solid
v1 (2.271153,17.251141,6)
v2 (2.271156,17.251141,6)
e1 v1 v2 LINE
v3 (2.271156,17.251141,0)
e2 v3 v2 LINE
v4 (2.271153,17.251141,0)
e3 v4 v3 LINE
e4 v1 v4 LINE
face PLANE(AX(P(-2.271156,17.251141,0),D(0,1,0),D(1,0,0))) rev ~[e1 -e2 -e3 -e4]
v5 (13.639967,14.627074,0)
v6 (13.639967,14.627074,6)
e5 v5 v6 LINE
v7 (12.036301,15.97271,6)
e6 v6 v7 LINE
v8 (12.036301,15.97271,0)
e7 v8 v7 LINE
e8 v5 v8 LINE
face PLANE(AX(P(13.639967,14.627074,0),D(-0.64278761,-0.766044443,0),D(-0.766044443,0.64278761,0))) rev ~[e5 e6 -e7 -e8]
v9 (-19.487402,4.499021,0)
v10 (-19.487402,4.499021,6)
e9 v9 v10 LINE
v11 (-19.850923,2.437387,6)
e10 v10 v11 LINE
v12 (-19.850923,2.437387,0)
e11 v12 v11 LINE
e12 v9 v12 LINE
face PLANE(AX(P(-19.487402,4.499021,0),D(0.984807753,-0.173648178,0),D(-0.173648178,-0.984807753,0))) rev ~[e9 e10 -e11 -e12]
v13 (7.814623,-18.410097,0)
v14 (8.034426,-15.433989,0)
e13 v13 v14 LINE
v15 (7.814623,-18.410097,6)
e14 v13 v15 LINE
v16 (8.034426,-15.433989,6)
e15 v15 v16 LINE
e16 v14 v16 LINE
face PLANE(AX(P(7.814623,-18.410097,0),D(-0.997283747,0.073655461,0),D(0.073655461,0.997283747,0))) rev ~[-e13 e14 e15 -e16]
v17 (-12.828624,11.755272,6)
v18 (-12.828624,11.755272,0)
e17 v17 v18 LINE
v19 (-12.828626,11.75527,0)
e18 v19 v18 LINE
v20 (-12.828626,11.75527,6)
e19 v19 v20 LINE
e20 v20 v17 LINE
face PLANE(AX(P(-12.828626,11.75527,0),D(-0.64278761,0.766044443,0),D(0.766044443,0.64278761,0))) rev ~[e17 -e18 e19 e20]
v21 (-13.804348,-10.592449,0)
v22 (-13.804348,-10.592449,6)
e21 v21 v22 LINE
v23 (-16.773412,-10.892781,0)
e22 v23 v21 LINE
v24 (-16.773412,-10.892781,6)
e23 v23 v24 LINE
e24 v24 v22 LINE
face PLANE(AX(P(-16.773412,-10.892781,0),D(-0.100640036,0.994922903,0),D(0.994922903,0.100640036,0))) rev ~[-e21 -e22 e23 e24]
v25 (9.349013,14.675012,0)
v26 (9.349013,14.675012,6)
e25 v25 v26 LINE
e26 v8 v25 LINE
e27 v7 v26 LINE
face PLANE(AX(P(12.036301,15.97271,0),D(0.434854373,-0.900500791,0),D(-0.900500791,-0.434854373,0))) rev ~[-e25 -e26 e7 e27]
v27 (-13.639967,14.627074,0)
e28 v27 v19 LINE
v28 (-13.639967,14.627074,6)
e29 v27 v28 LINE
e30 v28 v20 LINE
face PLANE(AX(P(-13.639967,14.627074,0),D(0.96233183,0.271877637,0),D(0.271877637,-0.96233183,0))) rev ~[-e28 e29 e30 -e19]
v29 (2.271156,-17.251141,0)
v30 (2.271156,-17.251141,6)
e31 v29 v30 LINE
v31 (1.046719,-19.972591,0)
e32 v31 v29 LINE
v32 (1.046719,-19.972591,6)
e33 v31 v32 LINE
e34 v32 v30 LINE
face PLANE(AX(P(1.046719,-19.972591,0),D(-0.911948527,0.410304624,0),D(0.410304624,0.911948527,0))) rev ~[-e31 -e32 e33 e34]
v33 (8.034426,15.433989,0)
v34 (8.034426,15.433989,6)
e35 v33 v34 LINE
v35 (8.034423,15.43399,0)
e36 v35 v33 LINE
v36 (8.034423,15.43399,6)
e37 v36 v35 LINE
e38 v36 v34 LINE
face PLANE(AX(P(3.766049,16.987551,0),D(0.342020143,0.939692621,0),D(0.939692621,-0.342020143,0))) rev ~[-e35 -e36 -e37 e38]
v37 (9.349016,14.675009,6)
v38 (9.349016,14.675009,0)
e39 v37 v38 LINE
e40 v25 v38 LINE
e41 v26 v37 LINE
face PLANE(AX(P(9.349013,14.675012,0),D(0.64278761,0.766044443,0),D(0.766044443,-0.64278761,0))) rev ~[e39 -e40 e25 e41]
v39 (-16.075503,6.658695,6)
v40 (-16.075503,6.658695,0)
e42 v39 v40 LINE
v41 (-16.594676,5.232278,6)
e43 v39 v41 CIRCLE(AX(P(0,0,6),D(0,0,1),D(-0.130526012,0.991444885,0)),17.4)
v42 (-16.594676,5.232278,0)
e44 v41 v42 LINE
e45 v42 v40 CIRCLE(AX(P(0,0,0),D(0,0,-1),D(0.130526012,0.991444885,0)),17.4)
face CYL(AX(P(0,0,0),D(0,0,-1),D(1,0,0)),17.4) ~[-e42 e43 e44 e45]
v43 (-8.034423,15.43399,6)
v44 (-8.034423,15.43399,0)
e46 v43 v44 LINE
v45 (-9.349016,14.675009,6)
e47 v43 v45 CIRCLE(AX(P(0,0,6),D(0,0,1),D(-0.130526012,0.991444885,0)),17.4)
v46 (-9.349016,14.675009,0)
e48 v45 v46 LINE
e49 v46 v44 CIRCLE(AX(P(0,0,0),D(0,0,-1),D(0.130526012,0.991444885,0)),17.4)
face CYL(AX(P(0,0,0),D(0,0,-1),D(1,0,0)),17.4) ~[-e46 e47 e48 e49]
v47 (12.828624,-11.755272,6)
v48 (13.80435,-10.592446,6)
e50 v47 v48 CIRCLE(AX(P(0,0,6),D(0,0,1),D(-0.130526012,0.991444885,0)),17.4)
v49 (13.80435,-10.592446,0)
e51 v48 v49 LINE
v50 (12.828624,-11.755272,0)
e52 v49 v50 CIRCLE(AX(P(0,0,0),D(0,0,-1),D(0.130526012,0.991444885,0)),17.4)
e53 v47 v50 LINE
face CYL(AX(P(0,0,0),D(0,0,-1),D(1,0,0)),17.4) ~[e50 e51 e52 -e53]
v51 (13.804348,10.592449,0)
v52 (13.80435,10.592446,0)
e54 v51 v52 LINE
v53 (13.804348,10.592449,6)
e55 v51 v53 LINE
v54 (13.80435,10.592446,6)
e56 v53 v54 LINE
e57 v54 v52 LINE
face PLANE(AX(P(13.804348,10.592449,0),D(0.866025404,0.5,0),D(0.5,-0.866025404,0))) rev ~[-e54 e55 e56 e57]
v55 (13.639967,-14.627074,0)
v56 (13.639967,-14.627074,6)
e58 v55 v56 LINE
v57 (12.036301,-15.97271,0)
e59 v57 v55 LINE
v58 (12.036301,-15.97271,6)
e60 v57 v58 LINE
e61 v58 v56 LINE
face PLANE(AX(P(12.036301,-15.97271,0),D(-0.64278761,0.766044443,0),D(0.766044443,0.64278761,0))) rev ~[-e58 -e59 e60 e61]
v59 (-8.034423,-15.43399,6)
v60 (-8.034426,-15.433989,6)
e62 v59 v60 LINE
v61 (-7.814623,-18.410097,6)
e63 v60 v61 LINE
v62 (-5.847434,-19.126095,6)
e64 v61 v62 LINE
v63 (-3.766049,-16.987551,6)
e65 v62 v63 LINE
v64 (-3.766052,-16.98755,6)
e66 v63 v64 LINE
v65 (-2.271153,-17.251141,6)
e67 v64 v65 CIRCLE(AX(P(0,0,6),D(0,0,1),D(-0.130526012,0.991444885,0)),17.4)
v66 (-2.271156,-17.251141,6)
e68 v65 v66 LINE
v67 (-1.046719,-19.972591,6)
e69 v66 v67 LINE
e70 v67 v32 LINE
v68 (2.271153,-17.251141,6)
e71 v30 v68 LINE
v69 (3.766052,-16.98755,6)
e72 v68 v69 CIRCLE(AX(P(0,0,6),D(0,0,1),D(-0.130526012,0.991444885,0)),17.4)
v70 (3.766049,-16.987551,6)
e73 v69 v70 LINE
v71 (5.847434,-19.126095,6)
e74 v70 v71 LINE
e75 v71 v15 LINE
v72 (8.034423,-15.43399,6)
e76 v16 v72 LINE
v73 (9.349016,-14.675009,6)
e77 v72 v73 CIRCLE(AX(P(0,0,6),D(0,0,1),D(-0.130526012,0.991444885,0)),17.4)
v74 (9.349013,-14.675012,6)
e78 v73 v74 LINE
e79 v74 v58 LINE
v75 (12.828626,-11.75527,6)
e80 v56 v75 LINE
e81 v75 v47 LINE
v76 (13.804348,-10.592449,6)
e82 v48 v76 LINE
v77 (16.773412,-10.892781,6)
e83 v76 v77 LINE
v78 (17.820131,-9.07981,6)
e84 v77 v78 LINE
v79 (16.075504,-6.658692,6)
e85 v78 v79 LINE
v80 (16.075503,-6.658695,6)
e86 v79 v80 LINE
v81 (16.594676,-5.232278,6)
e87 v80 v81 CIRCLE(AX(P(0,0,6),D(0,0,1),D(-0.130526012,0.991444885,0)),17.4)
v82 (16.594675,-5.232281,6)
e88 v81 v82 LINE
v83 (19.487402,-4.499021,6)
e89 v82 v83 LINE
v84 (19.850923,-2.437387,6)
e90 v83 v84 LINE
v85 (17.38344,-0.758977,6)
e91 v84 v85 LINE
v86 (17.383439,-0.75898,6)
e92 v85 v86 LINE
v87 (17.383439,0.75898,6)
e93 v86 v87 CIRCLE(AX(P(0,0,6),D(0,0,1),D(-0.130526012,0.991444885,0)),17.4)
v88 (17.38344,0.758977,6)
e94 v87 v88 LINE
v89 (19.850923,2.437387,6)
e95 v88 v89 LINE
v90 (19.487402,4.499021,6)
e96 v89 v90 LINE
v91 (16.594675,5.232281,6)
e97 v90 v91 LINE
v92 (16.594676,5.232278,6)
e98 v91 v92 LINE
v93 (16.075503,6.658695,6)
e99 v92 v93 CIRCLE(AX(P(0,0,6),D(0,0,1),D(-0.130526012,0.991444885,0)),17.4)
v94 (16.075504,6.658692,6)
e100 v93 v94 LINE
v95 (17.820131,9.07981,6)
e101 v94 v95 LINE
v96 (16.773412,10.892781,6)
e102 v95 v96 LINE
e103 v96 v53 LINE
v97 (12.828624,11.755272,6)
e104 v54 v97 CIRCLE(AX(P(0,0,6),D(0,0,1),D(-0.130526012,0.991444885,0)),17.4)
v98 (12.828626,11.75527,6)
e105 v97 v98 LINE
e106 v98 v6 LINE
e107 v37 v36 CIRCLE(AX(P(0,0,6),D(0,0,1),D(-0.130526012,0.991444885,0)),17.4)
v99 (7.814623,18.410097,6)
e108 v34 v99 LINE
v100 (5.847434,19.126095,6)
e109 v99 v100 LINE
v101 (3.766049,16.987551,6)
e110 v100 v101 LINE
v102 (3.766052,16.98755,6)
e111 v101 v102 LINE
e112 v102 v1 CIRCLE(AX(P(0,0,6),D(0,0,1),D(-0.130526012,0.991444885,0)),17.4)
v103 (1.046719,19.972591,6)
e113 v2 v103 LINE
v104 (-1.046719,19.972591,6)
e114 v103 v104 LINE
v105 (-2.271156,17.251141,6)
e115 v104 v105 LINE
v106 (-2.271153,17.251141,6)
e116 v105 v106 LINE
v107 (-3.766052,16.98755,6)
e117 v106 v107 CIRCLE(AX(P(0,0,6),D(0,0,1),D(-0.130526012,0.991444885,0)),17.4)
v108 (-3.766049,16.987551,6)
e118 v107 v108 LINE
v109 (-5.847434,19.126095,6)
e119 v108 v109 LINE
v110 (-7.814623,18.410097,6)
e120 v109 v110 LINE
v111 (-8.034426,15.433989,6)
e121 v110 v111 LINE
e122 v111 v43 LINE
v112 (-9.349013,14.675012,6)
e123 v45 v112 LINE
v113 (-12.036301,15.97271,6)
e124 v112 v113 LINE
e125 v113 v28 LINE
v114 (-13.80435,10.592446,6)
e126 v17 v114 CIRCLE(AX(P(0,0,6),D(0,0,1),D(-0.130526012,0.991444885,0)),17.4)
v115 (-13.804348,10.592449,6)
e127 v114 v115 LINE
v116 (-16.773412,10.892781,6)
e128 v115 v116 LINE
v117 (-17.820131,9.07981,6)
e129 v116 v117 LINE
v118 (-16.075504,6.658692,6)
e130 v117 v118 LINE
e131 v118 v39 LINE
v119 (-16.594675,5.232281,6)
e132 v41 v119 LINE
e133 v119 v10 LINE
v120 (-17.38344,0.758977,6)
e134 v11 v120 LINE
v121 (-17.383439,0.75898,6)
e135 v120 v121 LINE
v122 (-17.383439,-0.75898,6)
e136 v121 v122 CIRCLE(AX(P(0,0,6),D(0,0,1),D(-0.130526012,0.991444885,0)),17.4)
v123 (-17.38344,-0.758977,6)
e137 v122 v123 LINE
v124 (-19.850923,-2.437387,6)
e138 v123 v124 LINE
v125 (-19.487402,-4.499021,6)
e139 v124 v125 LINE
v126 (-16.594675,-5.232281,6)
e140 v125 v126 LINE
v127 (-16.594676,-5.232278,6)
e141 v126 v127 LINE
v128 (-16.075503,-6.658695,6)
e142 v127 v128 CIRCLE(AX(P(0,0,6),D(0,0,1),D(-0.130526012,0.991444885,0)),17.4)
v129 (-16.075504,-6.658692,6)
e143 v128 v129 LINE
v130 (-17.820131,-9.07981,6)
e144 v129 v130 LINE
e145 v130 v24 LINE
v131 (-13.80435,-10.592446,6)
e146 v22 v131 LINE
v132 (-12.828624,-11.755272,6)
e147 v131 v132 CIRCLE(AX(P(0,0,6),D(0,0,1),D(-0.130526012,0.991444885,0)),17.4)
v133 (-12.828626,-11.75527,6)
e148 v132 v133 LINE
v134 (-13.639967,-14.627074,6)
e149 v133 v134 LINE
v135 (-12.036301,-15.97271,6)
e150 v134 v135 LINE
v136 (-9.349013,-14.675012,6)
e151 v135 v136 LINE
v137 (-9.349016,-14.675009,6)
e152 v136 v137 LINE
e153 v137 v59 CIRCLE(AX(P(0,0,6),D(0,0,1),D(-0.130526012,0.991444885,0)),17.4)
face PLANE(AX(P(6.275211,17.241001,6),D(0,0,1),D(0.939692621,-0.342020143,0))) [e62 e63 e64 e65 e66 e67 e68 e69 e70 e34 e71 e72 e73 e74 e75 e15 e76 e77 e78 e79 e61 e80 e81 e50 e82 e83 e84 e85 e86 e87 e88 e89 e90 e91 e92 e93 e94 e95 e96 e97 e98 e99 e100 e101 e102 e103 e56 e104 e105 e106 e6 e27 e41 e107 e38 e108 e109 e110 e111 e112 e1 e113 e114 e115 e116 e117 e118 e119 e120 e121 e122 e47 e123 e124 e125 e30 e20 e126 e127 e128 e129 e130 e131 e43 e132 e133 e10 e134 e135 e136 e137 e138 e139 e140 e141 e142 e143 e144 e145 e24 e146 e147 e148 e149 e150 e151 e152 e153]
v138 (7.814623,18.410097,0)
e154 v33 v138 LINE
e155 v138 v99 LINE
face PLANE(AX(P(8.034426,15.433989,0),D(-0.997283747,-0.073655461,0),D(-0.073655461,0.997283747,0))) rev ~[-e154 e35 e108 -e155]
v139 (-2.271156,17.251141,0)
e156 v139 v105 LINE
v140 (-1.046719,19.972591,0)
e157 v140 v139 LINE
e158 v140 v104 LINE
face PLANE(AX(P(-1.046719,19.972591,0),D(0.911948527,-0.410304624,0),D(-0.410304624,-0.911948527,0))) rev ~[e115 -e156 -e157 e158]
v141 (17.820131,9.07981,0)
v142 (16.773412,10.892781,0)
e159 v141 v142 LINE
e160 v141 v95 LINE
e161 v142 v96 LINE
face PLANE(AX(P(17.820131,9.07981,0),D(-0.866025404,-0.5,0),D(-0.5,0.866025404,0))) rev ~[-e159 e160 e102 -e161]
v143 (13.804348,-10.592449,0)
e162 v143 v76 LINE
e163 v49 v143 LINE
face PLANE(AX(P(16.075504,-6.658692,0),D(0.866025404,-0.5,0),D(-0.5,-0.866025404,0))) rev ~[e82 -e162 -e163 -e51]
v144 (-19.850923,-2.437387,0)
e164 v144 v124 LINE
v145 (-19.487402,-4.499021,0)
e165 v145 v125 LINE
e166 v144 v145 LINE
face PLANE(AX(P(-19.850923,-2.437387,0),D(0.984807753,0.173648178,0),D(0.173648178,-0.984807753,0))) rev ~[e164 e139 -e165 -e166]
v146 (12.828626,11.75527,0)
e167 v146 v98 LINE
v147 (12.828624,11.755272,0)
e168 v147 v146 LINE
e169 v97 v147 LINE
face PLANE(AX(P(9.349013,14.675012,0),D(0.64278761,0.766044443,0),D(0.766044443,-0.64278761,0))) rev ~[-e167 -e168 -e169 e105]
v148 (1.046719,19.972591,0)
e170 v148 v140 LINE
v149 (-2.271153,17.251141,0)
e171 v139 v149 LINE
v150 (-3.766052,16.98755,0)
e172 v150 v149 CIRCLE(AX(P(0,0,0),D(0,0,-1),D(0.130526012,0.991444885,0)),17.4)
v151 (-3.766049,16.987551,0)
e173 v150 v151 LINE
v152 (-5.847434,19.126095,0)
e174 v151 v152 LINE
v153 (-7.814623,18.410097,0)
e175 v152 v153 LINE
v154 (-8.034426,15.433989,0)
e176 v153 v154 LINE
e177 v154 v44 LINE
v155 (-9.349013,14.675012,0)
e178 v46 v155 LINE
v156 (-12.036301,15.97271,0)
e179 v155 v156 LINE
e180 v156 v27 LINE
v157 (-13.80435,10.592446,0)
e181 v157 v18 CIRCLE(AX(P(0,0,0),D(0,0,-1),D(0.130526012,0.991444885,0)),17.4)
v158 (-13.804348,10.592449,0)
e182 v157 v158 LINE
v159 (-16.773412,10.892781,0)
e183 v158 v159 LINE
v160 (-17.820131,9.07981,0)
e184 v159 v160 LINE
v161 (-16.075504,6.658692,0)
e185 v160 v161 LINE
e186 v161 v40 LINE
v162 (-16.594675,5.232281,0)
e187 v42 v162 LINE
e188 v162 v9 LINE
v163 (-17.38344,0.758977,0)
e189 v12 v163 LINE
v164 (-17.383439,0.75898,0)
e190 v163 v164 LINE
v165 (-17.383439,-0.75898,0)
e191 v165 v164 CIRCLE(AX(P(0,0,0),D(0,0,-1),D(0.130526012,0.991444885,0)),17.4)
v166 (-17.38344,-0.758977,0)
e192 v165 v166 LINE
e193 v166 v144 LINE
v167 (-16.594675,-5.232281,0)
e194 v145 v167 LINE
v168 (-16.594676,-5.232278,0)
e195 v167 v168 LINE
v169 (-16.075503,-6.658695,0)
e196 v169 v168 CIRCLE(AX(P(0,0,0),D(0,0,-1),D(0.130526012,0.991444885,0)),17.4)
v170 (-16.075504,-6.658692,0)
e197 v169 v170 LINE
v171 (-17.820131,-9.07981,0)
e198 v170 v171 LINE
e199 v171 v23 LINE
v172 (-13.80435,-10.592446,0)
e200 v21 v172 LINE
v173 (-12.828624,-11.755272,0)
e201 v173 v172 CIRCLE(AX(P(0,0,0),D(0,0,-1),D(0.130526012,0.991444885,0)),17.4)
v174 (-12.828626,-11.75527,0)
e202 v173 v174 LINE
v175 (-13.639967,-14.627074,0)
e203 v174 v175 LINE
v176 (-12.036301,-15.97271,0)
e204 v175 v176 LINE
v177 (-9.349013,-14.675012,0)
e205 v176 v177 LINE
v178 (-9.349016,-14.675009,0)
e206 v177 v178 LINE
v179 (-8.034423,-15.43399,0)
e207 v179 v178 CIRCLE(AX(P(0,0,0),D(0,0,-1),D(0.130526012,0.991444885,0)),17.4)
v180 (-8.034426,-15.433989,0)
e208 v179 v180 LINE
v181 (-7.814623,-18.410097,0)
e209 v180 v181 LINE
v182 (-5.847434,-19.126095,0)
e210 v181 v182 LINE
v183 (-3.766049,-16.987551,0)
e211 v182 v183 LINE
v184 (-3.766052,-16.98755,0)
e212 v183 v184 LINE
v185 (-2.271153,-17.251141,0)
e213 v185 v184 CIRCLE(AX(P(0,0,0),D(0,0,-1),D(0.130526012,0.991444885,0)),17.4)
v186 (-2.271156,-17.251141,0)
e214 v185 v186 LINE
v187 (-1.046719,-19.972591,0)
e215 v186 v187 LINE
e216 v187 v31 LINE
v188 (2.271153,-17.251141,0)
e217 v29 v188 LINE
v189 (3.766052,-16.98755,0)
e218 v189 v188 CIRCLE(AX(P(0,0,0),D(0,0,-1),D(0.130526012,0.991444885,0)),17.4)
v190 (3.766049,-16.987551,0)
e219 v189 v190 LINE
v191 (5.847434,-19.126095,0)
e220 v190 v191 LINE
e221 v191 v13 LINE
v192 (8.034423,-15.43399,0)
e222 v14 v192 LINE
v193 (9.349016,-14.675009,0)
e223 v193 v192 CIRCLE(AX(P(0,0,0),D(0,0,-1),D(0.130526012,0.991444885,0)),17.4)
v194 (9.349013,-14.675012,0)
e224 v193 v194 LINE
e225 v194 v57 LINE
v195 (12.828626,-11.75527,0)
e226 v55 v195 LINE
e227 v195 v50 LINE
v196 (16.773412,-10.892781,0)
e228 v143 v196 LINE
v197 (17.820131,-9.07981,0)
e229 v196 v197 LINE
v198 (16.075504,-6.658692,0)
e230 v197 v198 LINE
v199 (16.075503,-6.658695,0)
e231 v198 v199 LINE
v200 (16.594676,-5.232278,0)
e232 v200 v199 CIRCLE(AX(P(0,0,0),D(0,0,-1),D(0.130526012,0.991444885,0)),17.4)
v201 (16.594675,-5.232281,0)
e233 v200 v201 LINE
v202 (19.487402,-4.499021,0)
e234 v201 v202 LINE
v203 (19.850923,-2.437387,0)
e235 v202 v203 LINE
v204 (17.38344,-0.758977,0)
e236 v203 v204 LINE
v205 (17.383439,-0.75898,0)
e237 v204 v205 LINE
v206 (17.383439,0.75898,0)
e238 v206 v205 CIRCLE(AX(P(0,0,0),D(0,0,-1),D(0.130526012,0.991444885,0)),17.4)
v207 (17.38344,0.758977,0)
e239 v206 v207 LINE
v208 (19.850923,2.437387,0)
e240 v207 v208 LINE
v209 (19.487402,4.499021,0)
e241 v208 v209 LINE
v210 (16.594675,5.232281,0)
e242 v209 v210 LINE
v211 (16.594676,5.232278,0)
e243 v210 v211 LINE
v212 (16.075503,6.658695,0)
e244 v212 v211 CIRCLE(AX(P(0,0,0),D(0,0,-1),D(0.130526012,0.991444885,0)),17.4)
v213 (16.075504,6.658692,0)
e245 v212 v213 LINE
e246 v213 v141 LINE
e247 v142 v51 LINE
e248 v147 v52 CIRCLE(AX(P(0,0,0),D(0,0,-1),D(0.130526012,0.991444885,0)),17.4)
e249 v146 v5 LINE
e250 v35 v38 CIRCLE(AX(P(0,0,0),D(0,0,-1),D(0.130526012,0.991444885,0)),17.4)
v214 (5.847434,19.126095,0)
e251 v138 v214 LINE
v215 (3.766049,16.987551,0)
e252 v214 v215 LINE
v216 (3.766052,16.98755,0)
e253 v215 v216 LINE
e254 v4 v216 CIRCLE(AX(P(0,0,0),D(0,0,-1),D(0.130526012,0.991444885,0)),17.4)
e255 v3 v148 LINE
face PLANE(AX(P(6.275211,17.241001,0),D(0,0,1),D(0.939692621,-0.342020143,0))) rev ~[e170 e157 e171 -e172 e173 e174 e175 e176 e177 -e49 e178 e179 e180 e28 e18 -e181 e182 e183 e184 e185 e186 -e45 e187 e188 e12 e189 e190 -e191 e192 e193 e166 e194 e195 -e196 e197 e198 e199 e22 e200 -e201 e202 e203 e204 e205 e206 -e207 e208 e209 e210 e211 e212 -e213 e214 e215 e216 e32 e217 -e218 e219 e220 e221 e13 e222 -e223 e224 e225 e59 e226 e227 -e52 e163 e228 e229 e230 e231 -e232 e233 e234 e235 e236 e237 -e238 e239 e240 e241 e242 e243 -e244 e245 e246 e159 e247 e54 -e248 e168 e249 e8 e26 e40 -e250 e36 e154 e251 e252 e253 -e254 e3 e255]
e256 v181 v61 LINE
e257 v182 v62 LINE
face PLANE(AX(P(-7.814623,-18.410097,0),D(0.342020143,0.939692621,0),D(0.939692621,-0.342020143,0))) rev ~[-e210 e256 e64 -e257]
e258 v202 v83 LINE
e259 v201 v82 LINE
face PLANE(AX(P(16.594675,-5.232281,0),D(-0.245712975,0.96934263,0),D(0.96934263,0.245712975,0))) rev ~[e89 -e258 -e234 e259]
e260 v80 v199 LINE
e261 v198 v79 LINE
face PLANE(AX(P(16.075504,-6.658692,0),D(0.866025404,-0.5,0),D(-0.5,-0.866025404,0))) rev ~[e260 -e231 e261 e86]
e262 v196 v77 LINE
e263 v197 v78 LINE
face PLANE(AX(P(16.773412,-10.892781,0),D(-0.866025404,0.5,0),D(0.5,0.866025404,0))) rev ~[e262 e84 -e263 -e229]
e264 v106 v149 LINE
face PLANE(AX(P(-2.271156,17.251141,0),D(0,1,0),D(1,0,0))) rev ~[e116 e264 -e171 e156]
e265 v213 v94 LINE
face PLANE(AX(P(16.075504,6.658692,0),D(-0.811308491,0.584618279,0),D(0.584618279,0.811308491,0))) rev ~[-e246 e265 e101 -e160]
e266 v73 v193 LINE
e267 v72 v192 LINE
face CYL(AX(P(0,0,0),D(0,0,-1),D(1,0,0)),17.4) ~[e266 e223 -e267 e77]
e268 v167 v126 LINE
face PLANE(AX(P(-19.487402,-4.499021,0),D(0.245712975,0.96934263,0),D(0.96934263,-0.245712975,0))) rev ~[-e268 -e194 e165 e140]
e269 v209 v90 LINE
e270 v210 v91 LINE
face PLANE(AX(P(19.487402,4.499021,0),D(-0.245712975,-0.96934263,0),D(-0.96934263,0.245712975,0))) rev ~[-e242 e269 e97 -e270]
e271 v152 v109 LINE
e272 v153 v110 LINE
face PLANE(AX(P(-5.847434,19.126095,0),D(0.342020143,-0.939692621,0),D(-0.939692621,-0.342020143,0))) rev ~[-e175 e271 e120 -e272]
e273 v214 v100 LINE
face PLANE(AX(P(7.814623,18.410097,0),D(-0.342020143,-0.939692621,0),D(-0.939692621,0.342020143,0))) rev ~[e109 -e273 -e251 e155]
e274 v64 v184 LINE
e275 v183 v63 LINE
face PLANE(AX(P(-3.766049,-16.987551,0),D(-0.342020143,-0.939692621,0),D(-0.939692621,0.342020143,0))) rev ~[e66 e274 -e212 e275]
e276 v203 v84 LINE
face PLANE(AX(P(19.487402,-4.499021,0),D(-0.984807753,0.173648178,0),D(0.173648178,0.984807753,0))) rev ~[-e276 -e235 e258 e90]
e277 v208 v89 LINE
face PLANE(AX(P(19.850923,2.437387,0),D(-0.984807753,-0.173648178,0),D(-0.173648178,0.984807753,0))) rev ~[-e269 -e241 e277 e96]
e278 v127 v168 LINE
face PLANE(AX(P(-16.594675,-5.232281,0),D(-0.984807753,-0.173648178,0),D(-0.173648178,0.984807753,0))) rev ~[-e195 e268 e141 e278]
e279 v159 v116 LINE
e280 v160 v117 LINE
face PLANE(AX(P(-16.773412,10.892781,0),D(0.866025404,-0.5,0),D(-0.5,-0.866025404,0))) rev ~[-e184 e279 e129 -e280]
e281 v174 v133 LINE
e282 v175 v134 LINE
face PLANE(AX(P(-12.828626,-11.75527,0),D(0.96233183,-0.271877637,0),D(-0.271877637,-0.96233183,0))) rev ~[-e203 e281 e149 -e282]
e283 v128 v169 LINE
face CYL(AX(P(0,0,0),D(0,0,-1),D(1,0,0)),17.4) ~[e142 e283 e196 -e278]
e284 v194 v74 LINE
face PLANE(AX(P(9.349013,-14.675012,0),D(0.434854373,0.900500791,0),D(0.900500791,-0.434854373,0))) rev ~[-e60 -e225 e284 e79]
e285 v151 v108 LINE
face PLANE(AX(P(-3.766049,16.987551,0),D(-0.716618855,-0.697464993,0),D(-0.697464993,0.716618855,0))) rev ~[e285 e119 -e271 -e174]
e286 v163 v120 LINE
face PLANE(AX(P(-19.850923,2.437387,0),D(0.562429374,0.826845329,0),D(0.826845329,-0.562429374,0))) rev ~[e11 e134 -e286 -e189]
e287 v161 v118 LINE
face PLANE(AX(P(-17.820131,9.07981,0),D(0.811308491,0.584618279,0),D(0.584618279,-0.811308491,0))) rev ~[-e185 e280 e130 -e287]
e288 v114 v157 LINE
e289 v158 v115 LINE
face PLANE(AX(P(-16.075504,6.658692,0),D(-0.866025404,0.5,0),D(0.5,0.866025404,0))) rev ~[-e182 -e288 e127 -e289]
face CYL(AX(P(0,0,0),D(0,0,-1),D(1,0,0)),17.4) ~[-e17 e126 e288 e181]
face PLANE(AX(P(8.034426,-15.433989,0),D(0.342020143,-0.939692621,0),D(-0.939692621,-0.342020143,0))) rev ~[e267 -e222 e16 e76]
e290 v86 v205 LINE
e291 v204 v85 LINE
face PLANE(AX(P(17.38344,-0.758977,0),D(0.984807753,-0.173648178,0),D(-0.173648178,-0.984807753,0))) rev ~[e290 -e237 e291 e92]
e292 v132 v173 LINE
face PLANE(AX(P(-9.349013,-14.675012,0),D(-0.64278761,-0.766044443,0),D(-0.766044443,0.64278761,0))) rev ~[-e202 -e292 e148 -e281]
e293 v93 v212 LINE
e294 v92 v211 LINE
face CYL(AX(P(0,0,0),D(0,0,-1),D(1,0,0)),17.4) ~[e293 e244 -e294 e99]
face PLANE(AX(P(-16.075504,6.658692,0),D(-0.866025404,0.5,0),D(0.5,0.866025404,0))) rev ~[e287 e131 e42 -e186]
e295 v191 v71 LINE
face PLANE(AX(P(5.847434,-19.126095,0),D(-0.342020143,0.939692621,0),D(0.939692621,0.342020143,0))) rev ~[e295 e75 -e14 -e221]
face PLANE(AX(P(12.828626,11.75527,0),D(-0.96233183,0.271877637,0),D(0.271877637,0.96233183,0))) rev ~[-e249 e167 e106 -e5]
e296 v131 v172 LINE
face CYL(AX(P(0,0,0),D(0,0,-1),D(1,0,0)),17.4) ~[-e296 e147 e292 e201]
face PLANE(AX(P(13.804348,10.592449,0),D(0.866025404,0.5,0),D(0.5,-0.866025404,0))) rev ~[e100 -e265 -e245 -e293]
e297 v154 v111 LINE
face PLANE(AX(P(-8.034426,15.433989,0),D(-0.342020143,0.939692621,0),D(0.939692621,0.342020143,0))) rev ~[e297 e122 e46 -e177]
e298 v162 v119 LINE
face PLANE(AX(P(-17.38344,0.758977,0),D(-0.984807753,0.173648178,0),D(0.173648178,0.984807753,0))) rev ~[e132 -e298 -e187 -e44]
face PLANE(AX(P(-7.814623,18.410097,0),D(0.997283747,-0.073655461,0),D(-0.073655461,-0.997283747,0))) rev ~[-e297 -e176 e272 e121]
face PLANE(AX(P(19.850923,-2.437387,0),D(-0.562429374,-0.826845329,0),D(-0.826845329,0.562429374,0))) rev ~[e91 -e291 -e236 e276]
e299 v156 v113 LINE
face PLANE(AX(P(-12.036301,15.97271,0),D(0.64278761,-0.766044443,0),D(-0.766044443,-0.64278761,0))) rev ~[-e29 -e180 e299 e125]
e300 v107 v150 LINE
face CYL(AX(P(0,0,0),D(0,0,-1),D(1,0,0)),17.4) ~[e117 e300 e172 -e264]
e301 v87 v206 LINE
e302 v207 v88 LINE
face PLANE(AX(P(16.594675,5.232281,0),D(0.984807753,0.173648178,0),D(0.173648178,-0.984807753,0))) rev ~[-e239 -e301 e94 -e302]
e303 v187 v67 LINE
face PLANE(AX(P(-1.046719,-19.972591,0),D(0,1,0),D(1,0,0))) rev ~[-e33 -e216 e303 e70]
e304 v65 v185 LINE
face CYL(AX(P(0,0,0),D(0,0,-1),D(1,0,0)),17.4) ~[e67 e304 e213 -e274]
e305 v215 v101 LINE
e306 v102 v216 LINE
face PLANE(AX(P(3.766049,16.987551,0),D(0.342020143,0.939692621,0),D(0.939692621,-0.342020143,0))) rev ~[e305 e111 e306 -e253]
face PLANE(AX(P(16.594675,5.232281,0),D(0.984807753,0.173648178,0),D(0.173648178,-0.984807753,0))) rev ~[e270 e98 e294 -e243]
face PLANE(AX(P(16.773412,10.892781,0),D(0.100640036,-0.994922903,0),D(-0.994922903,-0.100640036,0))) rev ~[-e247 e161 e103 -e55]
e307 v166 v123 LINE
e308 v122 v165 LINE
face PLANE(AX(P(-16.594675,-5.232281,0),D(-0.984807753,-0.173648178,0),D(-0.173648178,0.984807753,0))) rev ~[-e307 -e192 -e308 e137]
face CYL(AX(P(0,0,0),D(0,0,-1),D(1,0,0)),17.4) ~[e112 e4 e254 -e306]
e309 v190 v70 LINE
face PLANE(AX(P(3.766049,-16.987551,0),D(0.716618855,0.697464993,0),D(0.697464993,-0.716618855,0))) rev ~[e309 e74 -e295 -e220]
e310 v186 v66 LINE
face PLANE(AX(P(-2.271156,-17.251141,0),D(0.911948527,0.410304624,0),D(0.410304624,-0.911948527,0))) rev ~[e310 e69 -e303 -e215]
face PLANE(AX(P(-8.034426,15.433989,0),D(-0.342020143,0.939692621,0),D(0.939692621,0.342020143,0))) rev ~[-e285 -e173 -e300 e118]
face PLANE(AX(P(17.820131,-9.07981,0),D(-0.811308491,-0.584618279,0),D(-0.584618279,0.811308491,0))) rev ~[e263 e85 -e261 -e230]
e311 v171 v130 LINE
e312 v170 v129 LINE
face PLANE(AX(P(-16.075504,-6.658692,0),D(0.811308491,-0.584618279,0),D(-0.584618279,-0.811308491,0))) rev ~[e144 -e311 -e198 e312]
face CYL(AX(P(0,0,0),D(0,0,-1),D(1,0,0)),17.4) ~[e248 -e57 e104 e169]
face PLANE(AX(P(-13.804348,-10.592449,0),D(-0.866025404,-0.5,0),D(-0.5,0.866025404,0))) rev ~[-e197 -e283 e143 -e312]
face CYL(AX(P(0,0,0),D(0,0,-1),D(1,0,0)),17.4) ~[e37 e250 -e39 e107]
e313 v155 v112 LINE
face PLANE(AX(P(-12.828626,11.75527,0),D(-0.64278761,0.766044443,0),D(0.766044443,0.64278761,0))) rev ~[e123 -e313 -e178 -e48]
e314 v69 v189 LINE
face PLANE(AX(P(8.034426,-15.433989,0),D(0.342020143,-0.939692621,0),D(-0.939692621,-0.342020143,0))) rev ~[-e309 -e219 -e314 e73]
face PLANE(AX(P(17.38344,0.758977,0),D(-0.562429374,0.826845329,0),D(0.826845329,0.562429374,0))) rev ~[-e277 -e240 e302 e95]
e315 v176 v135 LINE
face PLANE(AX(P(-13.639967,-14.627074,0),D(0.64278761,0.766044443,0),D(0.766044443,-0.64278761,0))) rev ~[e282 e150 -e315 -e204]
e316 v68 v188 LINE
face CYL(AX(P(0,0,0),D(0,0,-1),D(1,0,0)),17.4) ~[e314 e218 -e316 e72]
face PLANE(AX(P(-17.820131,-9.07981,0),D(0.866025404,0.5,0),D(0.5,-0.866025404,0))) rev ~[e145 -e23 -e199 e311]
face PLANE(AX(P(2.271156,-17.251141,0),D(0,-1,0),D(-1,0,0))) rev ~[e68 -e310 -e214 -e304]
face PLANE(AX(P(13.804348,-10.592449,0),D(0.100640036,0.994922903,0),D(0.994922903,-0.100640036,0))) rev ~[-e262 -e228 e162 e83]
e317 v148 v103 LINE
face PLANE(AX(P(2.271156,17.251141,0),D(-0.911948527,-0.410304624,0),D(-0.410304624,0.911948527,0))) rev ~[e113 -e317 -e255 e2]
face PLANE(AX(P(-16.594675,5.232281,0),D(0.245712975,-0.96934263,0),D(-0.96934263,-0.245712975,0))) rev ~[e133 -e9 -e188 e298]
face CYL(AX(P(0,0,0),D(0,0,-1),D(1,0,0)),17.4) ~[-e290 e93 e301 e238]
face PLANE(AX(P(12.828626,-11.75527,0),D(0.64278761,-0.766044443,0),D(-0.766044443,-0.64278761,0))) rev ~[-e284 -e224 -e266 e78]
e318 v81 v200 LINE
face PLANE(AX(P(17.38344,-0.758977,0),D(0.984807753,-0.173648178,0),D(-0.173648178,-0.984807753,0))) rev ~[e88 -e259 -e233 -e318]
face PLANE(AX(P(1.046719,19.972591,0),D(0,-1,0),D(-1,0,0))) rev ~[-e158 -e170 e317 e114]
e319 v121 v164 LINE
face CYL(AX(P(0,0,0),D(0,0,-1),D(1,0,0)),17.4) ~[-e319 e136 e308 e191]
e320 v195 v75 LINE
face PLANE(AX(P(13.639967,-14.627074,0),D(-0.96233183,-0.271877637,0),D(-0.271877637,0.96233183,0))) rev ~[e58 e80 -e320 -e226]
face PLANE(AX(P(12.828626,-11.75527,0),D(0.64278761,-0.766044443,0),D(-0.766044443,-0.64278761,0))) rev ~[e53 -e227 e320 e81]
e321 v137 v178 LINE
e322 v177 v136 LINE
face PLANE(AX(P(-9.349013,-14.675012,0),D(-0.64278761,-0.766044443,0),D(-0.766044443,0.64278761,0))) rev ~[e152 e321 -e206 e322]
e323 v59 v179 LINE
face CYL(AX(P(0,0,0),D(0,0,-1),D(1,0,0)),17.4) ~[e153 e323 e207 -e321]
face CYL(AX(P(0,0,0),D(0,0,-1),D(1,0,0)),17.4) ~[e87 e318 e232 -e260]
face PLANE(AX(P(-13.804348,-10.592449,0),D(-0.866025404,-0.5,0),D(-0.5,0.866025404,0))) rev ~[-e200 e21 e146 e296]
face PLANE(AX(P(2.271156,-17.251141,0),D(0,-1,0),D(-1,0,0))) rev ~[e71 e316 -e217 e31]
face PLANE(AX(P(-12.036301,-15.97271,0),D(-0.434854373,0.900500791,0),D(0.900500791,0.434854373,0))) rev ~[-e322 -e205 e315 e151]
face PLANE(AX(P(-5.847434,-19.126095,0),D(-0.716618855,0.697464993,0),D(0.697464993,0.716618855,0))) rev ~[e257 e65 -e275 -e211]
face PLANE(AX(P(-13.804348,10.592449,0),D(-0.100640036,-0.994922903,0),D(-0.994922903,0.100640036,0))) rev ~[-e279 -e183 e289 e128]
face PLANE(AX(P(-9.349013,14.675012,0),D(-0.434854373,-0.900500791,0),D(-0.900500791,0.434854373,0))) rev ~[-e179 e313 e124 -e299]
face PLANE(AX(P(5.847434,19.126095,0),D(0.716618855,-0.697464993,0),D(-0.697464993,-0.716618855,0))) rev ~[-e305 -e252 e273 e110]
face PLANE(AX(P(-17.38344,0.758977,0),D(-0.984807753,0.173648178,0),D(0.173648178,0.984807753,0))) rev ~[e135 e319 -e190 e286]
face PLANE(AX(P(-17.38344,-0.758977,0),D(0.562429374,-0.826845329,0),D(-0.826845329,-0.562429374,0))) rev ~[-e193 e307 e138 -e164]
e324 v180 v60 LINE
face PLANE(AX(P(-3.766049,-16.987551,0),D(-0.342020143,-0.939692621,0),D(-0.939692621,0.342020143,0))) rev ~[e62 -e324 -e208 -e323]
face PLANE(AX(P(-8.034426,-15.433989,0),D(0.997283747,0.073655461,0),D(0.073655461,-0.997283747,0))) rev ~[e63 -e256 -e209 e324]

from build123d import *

# Parameters (mm, degrees)
F1_R     = 17.4
F2_DEPTH = 6
F4_COUNT = 18


with BuildPart() as f2:
    # F1 (on Top) + F0 (on Top) → F2 (new body)
    with BuildSketch(Plane.XY):
        Circle(F1_R)
    with BuildSketch(Plane.XY):
        Polygon((-1.046719, 19.972591), (-2.271156, 17.251141), (2.271156, 17.251141), (1.046719, 19.972591), (0, 19.972591), align=None)
    extrude(amount=F2_DEPTH)

    # F4: F2 ×18 about axis
    f4_axis = Axis((0, 0, 1.5), (0, 0, 1))


with BuildPart() as f2_1:
    add(f2.part)
    for i in range(1, F4_COUNT):
        add(f2.part.rotate(f4_axis, i * 360 / F4_COUNT))


solid = f2_1.part
